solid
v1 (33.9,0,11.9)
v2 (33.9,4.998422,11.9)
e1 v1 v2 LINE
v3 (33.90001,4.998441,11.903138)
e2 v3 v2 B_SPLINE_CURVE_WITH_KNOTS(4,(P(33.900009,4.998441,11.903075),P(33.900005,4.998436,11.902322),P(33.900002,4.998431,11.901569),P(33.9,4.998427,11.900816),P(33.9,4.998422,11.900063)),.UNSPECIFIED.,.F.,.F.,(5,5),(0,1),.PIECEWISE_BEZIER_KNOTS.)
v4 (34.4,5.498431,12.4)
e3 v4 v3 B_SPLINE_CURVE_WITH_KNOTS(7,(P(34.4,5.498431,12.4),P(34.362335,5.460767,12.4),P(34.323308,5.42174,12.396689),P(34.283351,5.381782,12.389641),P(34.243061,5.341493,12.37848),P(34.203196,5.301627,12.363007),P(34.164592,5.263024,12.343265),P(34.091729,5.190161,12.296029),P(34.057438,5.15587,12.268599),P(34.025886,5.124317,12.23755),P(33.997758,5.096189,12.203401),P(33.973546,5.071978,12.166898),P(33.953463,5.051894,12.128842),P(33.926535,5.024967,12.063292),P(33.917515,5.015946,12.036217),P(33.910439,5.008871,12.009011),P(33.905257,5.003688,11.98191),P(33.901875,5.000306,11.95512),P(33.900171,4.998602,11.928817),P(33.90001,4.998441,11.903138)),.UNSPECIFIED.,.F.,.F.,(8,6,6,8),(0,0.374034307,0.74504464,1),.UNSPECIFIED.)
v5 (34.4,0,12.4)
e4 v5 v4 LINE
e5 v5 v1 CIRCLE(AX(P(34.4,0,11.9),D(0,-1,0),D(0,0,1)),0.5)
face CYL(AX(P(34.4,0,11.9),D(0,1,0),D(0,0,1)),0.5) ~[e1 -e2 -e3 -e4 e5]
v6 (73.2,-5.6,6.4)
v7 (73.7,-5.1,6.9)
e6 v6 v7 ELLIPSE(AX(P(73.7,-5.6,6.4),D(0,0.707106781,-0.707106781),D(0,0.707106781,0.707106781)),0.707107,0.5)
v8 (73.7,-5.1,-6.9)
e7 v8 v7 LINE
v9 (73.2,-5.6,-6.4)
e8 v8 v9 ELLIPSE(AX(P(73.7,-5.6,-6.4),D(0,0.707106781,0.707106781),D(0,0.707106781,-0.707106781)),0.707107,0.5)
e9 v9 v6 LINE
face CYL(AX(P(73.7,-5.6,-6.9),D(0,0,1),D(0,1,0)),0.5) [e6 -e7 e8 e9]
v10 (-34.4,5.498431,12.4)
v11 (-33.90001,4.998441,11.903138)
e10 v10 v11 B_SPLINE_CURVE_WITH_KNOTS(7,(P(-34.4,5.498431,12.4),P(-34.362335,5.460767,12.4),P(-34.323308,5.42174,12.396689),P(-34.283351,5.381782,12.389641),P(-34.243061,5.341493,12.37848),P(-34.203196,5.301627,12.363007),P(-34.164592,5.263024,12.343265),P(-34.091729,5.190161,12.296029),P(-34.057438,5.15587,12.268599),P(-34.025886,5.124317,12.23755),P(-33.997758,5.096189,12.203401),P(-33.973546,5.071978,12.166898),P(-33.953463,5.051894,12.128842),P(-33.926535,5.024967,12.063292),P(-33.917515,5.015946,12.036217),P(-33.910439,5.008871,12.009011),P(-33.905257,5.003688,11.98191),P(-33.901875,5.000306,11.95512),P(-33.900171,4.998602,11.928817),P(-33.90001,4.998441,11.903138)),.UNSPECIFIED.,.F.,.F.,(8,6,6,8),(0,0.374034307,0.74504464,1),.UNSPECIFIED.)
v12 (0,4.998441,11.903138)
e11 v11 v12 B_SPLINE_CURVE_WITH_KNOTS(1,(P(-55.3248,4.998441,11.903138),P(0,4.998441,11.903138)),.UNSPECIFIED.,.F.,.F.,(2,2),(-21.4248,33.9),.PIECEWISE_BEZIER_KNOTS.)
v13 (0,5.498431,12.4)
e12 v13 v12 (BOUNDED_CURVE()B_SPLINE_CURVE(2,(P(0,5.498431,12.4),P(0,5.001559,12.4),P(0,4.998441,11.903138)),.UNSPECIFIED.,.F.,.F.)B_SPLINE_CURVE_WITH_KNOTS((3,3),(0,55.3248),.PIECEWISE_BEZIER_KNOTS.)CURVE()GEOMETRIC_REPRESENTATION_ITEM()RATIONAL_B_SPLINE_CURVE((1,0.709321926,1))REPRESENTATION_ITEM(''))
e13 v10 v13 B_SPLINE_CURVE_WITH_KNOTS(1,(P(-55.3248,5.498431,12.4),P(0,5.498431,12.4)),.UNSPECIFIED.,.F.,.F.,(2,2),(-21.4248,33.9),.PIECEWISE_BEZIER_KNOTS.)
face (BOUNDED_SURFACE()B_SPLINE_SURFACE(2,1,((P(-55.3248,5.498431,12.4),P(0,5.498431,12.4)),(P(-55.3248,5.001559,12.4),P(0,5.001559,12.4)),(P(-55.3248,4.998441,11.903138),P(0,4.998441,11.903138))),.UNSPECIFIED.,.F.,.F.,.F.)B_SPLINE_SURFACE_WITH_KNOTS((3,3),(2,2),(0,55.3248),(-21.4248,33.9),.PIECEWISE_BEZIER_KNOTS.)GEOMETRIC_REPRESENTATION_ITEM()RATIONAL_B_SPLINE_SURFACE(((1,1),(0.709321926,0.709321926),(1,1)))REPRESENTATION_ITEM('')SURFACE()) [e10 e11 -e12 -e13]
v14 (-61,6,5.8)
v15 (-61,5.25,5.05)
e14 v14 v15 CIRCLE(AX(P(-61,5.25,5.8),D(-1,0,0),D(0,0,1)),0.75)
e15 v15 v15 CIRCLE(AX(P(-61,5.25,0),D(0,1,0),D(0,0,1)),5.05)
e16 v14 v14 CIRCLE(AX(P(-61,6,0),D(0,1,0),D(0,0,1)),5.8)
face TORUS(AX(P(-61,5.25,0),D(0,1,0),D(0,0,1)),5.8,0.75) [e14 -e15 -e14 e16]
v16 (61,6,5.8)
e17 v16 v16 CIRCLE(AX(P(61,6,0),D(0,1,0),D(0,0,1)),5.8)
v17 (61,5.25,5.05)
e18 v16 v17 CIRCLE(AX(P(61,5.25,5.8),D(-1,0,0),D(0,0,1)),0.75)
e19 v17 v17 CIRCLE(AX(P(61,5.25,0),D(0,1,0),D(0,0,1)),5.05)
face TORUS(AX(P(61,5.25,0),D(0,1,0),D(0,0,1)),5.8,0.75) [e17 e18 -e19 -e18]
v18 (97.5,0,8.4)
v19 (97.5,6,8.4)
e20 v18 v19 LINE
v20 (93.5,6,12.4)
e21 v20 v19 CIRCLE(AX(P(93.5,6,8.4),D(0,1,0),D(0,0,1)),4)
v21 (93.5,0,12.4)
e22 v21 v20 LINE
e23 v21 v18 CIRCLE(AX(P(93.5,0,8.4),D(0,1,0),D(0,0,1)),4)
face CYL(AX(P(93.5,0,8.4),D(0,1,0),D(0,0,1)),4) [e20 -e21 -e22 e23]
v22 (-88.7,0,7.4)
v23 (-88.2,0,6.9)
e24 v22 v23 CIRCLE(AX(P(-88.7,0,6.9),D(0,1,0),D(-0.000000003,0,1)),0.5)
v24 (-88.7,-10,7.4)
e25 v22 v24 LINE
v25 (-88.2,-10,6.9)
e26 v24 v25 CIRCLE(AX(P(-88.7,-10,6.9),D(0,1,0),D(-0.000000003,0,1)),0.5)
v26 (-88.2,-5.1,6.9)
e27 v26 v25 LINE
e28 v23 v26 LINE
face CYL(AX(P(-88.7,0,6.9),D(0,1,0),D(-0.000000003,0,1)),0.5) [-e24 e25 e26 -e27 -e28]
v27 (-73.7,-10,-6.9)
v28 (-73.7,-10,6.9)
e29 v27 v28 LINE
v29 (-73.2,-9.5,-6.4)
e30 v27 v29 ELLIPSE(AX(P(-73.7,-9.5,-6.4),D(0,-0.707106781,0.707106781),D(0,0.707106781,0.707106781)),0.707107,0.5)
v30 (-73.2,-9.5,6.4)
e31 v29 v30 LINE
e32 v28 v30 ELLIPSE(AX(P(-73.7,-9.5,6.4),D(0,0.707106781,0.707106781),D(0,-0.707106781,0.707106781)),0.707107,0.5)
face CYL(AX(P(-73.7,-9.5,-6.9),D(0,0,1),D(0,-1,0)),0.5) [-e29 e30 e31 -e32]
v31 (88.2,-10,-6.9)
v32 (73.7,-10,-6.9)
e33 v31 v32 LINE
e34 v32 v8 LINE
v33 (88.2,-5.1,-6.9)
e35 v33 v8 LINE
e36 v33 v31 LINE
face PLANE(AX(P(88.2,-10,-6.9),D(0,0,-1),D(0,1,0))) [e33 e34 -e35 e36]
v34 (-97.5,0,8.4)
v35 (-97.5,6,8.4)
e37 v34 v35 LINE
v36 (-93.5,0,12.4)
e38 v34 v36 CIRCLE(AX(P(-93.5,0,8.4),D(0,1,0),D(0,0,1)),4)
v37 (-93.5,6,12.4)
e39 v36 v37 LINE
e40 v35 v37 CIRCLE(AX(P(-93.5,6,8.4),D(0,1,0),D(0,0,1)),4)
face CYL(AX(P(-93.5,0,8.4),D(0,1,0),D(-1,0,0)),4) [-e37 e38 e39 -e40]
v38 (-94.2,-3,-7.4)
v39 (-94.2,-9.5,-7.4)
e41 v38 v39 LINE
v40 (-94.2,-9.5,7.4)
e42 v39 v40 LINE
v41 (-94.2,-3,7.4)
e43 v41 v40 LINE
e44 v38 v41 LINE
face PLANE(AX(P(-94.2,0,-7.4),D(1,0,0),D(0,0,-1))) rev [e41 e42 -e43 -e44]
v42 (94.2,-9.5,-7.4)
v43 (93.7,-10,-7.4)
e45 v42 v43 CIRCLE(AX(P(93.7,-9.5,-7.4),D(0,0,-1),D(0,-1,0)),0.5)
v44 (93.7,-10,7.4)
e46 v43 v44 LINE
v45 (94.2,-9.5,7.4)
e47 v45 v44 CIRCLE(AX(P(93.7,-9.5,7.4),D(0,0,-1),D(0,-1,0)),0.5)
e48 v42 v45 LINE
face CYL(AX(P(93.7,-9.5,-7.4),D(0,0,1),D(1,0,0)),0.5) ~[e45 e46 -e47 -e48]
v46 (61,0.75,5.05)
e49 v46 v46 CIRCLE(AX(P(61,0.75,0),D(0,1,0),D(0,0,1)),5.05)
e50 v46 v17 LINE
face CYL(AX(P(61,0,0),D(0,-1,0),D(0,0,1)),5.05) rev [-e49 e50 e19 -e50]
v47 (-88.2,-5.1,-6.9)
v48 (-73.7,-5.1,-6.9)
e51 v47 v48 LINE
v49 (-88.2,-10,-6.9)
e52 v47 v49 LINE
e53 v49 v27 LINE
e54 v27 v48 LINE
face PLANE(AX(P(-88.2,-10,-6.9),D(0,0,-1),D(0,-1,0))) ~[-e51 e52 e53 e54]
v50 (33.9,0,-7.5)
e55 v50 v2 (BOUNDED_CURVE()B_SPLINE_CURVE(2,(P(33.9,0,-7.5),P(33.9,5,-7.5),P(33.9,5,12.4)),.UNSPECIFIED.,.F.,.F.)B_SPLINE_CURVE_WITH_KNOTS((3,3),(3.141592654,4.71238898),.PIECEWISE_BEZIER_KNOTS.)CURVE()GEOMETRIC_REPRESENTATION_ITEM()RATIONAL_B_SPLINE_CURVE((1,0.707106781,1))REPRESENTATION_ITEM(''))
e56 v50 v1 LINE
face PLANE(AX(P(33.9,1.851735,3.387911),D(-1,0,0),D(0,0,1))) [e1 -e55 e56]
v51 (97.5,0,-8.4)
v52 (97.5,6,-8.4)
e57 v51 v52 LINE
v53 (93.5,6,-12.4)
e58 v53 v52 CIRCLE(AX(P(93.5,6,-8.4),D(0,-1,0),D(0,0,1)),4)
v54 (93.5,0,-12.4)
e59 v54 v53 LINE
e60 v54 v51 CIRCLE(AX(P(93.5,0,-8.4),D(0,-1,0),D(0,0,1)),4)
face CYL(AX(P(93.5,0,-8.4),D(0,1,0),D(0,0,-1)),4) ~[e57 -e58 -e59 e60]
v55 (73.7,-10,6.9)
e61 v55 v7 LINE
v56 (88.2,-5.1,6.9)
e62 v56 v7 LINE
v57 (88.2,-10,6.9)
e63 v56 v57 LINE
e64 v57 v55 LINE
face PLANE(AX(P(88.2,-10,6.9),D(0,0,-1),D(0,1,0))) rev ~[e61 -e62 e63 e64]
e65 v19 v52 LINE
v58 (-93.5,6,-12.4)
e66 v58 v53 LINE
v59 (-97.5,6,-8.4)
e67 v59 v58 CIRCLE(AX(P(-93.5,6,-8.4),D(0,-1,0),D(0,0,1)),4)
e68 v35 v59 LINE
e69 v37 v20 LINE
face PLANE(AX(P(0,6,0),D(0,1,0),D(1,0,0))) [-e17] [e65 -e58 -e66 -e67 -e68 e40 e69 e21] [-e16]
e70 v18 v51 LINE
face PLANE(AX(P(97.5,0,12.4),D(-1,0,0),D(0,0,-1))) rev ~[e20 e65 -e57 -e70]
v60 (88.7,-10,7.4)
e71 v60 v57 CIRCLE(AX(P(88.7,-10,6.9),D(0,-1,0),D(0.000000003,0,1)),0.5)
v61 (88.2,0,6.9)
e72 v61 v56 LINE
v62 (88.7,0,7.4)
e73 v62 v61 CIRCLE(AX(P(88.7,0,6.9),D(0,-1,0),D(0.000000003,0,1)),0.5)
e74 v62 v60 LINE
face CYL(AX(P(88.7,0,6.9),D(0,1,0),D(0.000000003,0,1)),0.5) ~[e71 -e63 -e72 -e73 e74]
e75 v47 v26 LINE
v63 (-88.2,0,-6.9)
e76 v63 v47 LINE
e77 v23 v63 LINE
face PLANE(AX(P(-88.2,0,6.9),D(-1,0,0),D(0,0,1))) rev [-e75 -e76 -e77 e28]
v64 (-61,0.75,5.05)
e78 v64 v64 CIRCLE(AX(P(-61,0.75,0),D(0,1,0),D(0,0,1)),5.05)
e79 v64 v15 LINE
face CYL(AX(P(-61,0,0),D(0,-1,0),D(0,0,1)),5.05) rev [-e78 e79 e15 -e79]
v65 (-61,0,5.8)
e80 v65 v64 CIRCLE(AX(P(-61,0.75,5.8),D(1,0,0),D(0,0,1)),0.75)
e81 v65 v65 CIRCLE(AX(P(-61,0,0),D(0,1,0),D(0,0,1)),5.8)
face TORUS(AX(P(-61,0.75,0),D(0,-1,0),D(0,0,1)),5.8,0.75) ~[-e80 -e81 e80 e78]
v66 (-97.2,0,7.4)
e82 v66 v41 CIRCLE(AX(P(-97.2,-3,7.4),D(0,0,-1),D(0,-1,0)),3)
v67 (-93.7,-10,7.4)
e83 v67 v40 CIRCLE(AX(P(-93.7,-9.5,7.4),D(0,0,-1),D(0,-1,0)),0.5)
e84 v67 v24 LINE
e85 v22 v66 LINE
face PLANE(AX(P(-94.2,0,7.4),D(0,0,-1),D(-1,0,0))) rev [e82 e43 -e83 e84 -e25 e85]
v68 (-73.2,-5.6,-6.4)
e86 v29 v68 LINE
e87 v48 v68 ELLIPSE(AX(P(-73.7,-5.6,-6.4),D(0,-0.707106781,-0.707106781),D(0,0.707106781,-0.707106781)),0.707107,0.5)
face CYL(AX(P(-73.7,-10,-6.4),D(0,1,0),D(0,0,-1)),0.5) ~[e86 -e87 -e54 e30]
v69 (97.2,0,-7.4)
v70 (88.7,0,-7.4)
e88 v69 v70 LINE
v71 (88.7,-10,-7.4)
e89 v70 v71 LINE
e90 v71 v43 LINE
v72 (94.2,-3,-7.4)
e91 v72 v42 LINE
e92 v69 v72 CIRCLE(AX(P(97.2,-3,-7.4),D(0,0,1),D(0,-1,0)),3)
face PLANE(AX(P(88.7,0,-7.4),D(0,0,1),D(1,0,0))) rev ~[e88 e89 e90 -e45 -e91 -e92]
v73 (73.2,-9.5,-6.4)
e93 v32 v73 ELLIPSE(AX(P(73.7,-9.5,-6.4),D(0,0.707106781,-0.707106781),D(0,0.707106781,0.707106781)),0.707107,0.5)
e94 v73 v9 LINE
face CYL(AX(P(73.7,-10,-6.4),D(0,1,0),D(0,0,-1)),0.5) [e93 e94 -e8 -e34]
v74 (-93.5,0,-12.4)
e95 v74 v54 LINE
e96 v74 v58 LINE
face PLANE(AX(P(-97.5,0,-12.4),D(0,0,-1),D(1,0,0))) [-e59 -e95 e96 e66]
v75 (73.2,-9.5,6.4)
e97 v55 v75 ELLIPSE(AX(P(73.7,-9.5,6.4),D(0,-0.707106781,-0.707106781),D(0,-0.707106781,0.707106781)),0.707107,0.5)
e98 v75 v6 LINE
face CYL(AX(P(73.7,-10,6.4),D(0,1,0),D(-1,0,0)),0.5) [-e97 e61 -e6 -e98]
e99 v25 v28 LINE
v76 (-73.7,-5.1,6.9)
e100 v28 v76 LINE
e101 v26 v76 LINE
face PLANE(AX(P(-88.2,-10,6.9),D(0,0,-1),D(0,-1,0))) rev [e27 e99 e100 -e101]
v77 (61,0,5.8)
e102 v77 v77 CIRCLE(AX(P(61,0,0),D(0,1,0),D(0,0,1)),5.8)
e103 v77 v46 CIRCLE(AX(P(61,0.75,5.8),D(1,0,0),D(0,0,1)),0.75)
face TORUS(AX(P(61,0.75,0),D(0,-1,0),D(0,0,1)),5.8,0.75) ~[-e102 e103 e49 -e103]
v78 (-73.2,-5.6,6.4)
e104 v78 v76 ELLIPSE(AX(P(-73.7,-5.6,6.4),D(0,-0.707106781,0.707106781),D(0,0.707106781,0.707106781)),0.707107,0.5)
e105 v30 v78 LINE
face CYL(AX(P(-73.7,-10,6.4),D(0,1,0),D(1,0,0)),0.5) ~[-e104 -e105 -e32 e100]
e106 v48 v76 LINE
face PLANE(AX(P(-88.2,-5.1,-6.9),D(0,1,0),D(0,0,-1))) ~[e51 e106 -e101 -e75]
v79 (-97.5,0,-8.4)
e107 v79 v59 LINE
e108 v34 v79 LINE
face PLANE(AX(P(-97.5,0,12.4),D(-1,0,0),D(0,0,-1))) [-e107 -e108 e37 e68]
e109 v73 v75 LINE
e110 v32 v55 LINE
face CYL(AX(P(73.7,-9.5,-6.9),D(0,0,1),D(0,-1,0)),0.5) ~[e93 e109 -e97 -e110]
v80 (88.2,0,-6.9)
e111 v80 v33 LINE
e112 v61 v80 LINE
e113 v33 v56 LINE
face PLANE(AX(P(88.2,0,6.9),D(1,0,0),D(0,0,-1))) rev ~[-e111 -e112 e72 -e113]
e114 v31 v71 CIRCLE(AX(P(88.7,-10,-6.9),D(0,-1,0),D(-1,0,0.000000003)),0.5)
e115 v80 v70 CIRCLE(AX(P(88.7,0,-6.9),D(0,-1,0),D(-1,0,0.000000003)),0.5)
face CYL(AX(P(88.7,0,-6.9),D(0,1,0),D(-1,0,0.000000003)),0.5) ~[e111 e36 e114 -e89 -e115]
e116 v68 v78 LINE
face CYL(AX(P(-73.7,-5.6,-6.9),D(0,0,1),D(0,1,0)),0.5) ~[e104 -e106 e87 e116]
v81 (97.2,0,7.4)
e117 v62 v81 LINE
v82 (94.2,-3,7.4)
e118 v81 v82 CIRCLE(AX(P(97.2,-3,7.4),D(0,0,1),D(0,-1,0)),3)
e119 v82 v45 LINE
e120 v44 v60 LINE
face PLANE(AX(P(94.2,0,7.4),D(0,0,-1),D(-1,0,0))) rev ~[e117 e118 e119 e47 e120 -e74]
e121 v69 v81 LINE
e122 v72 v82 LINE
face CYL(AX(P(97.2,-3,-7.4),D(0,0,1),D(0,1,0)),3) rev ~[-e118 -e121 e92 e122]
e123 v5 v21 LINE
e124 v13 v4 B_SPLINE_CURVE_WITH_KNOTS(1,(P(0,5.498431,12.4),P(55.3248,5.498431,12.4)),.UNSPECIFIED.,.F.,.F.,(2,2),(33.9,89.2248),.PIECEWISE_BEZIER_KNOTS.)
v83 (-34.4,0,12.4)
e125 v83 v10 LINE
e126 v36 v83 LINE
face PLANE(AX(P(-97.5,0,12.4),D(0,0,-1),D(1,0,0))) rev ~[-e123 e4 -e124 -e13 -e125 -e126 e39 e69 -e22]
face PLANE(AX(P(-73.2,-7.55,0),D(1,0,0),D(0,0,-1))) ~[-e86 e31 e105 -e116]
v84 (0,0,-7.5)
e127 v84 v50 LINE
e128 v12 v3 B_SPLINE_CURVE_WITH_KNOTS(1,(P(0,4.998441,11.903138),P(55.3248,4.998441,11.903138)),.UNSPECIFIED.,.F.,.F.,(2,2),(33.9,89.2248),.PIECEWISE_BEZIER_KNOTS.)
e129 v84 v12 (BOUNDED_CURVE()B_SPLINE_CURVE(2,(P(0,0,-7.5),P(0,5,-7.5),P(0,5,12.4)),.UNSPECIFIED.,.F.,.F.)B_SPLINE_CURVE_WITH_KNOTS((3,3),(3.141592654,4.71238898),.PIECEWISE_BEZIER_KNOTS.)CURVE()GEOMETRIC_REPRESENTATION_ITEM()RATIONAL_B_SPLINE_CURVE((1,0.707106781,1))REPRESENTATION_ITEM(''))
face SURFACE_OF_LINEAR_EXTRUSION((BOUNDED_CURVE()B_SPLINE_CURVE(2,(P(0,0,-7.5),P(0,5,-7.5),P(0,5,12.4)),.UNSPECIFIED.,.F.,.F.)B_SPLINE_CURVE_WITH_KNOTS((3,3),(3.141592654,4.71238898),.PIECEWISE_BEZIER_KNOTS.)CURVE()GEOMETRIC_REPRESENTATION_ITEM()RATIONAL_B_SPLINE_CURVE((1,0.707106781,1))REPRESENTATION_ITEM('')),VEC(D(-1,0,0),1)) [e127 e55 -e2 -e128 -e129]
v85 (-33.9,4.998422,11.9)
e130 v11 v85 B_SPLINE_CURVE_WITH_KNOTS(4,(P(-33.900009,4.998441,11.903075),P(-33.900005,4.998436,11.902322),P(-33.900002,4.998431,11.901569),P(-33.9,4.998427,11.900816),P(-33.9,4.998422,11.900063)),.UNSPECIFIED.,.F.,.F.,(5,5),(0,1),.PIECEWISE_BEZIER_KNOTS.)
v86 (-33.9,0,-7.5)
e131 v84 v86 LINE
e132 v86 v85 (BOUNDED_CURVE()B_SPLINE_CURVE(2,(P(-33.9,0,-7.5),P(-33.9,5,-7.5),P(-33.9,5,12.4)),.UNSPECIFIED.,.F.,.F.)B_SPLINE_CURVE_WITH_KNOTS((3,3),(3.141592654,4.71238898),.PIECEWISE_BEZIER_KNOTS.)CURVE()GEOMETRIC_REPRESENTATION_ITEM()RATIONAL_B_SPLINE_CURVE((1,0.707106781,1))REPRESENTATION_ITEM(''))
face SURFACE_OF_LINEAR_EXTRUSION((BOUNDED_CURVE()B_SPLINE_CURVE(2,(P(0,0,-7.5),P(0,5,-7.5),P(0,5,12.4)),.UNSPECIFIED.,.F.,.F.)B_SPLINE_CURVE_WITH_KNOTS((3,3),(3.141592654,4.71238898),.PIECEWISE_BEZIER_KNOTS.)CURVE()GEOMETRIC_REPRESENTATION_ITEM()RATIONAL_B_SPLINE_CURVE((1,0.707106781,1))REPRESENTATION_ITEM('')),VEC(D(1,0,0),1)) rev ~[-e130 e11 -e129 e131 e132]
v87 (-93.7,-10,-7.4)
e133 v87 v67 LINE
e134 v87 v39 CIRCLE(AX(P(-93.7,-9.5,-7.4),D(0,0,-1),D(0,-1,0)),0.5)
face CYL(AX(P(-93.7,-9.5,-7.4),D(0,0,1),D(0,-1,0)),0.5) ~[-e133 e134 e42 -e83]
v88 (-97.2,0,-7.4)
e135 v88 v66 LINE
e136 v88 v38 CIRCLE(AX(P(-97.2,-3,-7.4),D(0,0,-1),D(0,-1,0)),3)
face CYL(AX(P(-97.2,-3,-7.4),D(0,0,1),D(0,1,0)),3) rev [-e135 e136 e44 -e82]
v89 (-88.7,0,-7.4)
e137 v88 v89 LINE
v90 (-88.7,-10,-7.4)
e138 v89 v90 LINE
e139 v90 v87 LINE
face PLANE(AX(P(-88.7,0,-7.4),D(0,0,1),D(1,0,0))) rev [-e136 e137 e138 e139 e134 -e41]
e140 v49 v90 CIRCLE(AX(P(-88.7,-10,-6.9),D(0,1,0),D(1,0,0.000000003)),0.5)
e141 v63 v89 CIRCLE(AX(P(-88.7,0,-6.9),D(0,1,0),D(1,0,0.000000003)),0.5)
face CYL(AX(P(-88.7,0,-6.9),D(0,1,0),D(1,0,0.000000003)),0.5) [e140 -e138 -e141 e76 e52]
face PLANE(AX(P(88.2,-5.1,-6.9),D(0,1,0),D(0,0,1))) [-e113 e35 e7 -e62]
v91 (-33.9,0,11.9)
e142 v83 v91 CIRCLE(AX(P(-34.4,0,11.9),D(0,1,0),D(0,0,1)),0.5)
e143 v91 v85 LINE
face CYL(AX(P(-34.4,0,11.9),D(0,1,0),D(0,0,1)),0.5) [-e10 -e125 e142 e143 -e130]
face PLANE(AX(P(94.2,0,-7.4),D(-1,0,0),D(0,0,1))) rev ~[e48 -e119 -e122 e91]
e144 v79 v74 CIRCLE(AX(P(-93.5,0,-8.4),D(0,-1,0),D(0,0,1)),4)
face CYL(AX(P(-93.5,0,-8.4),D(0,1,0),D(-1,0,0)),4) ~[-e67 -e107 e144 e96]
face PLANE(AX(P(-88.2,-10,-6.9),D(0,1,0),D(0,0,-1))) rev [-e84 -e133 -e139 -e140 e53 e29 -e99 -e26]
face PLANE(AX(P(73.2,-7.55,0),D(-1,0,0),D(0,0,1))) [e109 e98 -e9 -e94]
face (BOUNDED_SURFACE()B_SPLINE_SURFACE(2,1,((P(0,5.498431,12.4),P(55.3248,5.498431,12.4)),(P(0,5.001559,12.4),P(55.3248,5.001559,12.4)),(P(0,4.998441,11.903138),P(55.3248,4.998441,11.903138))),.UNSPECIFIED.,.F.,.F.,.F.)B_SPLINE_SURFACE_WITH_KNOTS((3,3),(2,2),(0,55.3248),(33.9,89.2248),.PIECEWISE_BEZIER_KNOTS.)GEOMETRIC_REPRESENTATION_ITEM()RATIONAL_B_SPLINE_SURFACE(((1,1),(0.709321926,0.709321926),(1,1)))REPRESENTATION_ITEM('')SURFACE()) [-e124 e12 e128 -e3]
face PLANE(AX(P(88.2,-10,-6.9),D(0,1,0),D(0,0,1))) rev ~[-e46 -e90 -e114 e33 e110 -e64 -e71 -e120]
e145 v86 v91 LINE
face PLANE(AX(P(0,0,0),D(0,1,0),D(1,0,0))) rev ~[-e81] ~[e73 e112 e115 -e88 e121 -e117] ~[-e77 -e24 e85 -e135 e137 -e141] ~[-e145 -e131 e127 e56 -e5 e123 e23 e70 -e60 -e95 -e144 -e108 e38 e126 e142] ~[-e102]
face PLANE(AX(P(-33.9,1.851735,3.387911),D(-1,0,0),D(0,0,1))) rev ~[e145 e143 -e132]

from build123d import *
from OCP.BRepFilletAPI import BRepFilletAPI_MakeFillet

# Parameters (mm, degrees)
SKETCH1_W             = 195
SKETCH1_H             = 24.8
SKETCH1_R             = 5.05
BOSS_EXTRUDE1_DEPTH   = 6
CUT_EXTRUDE1_DEPTH    = 33.9
FILLET1_R1            = 0.75
FILLET1_R2            = 4
FILLET1_R3            = 0.5
BOSS_EXTRUDE2_DEPTH   = 10
FILLET2_R1            = 3
FILLET2_R2            = 0.5
SKETCH5_W             = 13.8
SKETCH5_H             = 4.9
BOSS_EXTRUDE4_DEPTH   = 15
FILLET3_R             = 0.5
FILLET2_OF_MIRROR2_R1 = 3
FILLET2_OF_MIRROR2_R2 = 0.5
FILLET3_OF_MIRROR2_R  = 0.5


with BuildPart() as part:
    # Sketch1 → Boss-Extrude1 (new body)
    with BuildSketch(Plane(origin=(0, 0, 0), x_dir=(1, 0, 0), z_dir=(0, 1, 0))):
        Rectangle(SKETCH1_W, SKETCH1_H)
        with Locations(Location((-61, 0, 0), (0, 0, 270))):
            Circle(SKETCH1_R, mode=Mode.SUBTRACT)
        with Locations(Location((61, 0, 0), (0, 0, 270))):
            Circle(SKETCH1_R, mode=Mode.SUBTRACT)
    extrude(amount=BOSS_EXTRUDE1_DEPTH)

    # Sketch2 → Cut-Extrude1 (cut, symmetric)
    with BuildSketch(Plane(origin=(0, 0, 0), x_dir=(0, 0, -1), z_dir=(1, 0, 0))):
        with BuildLine():
            Line((-12.4, 0), (-12.4, 5))
            add(Edge.make_bspline(
                [(7.5, 0), (7.5, 5), (-12.4, 5)],
                knots=[3.141592654, 3.141592654, 3.141592654, 4.71238898, 4.71238898, 4.71238898], degree=2, weights=[1, 0.707106781, 1]))
            Line((7.5, 0), (-12.4, 0))
        make_face()
    extrude(amount=CUT_EXTRUDE1_DEPTH, both=True, mode=Mode.SUBTRACT)

    # Fillet1: one fillet with a radius per group of edges: ONE call of the kernel's fillet builder (fillet() takes one radius for all edges)
    fillet1_edges_1 = [part.edges().sort_by_distance(p)[0] for p in [
        (-61, 0, -5.05),
        (-61, 6, -5.05),
        (61, 0, -5.05),
        (61, 6, -5.05),
    ]]
    fillet1_edges_2 = [part.edges().sort_by_distance(p)[0] for p in [
        (97.5, 3, 12.4),
        (-97.5, 3, 12.4),
        (-97.5, 3, -12.4),
        (97.5, 3, -12.4),
    ]]
    fillet1_edges_3 = [part.edges().sort_by_distance(p)[0] for p in [
        (-33.9, 2.5, 12.4),
        (16.95, 5, 12.4),
        (33.9, 2.5, 12.4),
    ]]
    fillet1 = BRepFilletAPI_MakeFillet(part.part.solid().wrapped)
    for e in fillet1_edges_1:
        fillet1.Add(FILLET1_R1, e.wrapped)
    for e in fillet1_edges_2:
        fillet1.Add(FILLET1_R2, e.wrapped)
    for e in fillet1_edges_3:
        fillet1.Add(FILLET1_R3, e.wrapped)
    add(Compound.cast(fillet1.Shape()), mode=Mode.REPLACE)

    # Sketch3 → Boss-Extrude2 (add)
    with BuildSketch(Plane.XZ):
        with BuildLine():
            Line((88.7, -7.4), (94.2, -7.4))
            Line((94.2, -7.4), (94.2, 7.4))
            Line((94.2, 7.4), (88.7, 7.4))
            ThreePointArc((88.7, 7.4), (88.346446609, 7.253553391), (88.2, 6.9))
            Line((88.2, 6.9), (88.2, -6.9))
            ThreePointArc((88.2, -6.9), (88.346446609, -7.253553391), (88.7, -7.4))
        make_face()
    boss_extrude2 = extrude(amount=BOSS_EXTRUDE2_DEPTH)

    # Fillet2: one fillet with a radius per group of edges: ONE call of the kernel's fillet builder (fillet() takes one radius for all edges)
    fillet2_edges_1 = [part.edges().sort_by_distance(p)[0] for p in [
        (94.2, 0, 0),
    ]]
    fillet2_edges_2 = [part.edges().sort_by_distance(p)[0] for p in [
        (94.2, -10, 0),
    ]]
    fillet2 = BRepFilletAPI_MakeFillet(part.part.solid().wrapped)
    for e in fillet2_edges_1:
        fillet2.Add(FILLET2_R1, e.wrapped)
    for e in fillet2_edges_2:
        fillet2.Add(FILLET2_R2, e.wrapped)
    add(Compound.cast(fillet2.Shape()), mode=Mode.REPLACE)

    # Sketch5 → Boss-Extrude4 (add)
    with BuildSketch(Plane.ZY.offset(-88.2)):
        with Locations((0, -7.55)):
            Rectangle(SKETCH5_W, SKETCH5_H)
    boss_extrude4 = extrude(amount=BOSS_EXTRUDE4_DEPTH)

    # Fillet3
    fillet3_edges = [part.edges().sort_by_distance(p)[0] for p in [
        (73.2, -7.55, -6.9),
        (73.2, -10, 0),
        (73.2, -7.55, 6.9),
        (73.2, -5.1, 0),
    ]]
    fillet(fillet3_edges, radius=FILLET3_R)

    # Mirror2: Boss-Extrude2, Boss-Extrude4 across plane
    add(boss_extrude2.mirror(Plane(origin=(0, 0, 0), x_dir=(0, 0, 1), z_dir=(1, 0, 0))))
    add(boss_extrude4.mirror(Plane(origin=(0, 0, 0), x_dir=(0, 0, 1), z_dir=(1, 0, 0))))

    # Fillet2 of Mirror2: one fillet with a radius per group of edges: ONE call of the kernel's fillet builder (fillet() takes one radius for all edges)
    fillet2_of_mirror2_edges_1 = [part.edges().sort_by_distance(p)[0] for p in [
        (-94.2, 0, 0),
    ]]
    fillet2_of_mirror2_edges_2 = [part.edges().sort_by_distance(p)[0] for p in [
        (-94.2, -10, 0),
    ]]
    fillet2_of_mirror2 = BRepFilletAPI_MakeFillet(part.part.solid().wrapped)
    for e in fillet2_of_mirror2_edges_1:
        fillet2_of_mirror2.Add(FILLET2_OF_MIRROR2_R1, e.wrapped)
    for e in fillet2_of_mirror2_edges_2:
        fillet2_of_mirror2.Add(FILLET2_OF_MIRROR2_R2, e.wrapped)
    add(Compound.cast(fillet2_of_mirror2.Shape()), mode=Mode.REPLACE)

    # Fillet3 of Mirror2
    fillet3_of_mirror2_edges = [part.edges().sort_by_distance(p)[0] for p in [
        (-73.2, -7.55, -6.9),
        (-73.2, -10, 0),
        (-73.2, -7.55, 6.9),
        (-73.2, -5.1, 0),
    ]]
    fillet(fillet3_of_mirror2_edges, radius=FILLET3_OF_MIRROR2_R)


solid = part.part
